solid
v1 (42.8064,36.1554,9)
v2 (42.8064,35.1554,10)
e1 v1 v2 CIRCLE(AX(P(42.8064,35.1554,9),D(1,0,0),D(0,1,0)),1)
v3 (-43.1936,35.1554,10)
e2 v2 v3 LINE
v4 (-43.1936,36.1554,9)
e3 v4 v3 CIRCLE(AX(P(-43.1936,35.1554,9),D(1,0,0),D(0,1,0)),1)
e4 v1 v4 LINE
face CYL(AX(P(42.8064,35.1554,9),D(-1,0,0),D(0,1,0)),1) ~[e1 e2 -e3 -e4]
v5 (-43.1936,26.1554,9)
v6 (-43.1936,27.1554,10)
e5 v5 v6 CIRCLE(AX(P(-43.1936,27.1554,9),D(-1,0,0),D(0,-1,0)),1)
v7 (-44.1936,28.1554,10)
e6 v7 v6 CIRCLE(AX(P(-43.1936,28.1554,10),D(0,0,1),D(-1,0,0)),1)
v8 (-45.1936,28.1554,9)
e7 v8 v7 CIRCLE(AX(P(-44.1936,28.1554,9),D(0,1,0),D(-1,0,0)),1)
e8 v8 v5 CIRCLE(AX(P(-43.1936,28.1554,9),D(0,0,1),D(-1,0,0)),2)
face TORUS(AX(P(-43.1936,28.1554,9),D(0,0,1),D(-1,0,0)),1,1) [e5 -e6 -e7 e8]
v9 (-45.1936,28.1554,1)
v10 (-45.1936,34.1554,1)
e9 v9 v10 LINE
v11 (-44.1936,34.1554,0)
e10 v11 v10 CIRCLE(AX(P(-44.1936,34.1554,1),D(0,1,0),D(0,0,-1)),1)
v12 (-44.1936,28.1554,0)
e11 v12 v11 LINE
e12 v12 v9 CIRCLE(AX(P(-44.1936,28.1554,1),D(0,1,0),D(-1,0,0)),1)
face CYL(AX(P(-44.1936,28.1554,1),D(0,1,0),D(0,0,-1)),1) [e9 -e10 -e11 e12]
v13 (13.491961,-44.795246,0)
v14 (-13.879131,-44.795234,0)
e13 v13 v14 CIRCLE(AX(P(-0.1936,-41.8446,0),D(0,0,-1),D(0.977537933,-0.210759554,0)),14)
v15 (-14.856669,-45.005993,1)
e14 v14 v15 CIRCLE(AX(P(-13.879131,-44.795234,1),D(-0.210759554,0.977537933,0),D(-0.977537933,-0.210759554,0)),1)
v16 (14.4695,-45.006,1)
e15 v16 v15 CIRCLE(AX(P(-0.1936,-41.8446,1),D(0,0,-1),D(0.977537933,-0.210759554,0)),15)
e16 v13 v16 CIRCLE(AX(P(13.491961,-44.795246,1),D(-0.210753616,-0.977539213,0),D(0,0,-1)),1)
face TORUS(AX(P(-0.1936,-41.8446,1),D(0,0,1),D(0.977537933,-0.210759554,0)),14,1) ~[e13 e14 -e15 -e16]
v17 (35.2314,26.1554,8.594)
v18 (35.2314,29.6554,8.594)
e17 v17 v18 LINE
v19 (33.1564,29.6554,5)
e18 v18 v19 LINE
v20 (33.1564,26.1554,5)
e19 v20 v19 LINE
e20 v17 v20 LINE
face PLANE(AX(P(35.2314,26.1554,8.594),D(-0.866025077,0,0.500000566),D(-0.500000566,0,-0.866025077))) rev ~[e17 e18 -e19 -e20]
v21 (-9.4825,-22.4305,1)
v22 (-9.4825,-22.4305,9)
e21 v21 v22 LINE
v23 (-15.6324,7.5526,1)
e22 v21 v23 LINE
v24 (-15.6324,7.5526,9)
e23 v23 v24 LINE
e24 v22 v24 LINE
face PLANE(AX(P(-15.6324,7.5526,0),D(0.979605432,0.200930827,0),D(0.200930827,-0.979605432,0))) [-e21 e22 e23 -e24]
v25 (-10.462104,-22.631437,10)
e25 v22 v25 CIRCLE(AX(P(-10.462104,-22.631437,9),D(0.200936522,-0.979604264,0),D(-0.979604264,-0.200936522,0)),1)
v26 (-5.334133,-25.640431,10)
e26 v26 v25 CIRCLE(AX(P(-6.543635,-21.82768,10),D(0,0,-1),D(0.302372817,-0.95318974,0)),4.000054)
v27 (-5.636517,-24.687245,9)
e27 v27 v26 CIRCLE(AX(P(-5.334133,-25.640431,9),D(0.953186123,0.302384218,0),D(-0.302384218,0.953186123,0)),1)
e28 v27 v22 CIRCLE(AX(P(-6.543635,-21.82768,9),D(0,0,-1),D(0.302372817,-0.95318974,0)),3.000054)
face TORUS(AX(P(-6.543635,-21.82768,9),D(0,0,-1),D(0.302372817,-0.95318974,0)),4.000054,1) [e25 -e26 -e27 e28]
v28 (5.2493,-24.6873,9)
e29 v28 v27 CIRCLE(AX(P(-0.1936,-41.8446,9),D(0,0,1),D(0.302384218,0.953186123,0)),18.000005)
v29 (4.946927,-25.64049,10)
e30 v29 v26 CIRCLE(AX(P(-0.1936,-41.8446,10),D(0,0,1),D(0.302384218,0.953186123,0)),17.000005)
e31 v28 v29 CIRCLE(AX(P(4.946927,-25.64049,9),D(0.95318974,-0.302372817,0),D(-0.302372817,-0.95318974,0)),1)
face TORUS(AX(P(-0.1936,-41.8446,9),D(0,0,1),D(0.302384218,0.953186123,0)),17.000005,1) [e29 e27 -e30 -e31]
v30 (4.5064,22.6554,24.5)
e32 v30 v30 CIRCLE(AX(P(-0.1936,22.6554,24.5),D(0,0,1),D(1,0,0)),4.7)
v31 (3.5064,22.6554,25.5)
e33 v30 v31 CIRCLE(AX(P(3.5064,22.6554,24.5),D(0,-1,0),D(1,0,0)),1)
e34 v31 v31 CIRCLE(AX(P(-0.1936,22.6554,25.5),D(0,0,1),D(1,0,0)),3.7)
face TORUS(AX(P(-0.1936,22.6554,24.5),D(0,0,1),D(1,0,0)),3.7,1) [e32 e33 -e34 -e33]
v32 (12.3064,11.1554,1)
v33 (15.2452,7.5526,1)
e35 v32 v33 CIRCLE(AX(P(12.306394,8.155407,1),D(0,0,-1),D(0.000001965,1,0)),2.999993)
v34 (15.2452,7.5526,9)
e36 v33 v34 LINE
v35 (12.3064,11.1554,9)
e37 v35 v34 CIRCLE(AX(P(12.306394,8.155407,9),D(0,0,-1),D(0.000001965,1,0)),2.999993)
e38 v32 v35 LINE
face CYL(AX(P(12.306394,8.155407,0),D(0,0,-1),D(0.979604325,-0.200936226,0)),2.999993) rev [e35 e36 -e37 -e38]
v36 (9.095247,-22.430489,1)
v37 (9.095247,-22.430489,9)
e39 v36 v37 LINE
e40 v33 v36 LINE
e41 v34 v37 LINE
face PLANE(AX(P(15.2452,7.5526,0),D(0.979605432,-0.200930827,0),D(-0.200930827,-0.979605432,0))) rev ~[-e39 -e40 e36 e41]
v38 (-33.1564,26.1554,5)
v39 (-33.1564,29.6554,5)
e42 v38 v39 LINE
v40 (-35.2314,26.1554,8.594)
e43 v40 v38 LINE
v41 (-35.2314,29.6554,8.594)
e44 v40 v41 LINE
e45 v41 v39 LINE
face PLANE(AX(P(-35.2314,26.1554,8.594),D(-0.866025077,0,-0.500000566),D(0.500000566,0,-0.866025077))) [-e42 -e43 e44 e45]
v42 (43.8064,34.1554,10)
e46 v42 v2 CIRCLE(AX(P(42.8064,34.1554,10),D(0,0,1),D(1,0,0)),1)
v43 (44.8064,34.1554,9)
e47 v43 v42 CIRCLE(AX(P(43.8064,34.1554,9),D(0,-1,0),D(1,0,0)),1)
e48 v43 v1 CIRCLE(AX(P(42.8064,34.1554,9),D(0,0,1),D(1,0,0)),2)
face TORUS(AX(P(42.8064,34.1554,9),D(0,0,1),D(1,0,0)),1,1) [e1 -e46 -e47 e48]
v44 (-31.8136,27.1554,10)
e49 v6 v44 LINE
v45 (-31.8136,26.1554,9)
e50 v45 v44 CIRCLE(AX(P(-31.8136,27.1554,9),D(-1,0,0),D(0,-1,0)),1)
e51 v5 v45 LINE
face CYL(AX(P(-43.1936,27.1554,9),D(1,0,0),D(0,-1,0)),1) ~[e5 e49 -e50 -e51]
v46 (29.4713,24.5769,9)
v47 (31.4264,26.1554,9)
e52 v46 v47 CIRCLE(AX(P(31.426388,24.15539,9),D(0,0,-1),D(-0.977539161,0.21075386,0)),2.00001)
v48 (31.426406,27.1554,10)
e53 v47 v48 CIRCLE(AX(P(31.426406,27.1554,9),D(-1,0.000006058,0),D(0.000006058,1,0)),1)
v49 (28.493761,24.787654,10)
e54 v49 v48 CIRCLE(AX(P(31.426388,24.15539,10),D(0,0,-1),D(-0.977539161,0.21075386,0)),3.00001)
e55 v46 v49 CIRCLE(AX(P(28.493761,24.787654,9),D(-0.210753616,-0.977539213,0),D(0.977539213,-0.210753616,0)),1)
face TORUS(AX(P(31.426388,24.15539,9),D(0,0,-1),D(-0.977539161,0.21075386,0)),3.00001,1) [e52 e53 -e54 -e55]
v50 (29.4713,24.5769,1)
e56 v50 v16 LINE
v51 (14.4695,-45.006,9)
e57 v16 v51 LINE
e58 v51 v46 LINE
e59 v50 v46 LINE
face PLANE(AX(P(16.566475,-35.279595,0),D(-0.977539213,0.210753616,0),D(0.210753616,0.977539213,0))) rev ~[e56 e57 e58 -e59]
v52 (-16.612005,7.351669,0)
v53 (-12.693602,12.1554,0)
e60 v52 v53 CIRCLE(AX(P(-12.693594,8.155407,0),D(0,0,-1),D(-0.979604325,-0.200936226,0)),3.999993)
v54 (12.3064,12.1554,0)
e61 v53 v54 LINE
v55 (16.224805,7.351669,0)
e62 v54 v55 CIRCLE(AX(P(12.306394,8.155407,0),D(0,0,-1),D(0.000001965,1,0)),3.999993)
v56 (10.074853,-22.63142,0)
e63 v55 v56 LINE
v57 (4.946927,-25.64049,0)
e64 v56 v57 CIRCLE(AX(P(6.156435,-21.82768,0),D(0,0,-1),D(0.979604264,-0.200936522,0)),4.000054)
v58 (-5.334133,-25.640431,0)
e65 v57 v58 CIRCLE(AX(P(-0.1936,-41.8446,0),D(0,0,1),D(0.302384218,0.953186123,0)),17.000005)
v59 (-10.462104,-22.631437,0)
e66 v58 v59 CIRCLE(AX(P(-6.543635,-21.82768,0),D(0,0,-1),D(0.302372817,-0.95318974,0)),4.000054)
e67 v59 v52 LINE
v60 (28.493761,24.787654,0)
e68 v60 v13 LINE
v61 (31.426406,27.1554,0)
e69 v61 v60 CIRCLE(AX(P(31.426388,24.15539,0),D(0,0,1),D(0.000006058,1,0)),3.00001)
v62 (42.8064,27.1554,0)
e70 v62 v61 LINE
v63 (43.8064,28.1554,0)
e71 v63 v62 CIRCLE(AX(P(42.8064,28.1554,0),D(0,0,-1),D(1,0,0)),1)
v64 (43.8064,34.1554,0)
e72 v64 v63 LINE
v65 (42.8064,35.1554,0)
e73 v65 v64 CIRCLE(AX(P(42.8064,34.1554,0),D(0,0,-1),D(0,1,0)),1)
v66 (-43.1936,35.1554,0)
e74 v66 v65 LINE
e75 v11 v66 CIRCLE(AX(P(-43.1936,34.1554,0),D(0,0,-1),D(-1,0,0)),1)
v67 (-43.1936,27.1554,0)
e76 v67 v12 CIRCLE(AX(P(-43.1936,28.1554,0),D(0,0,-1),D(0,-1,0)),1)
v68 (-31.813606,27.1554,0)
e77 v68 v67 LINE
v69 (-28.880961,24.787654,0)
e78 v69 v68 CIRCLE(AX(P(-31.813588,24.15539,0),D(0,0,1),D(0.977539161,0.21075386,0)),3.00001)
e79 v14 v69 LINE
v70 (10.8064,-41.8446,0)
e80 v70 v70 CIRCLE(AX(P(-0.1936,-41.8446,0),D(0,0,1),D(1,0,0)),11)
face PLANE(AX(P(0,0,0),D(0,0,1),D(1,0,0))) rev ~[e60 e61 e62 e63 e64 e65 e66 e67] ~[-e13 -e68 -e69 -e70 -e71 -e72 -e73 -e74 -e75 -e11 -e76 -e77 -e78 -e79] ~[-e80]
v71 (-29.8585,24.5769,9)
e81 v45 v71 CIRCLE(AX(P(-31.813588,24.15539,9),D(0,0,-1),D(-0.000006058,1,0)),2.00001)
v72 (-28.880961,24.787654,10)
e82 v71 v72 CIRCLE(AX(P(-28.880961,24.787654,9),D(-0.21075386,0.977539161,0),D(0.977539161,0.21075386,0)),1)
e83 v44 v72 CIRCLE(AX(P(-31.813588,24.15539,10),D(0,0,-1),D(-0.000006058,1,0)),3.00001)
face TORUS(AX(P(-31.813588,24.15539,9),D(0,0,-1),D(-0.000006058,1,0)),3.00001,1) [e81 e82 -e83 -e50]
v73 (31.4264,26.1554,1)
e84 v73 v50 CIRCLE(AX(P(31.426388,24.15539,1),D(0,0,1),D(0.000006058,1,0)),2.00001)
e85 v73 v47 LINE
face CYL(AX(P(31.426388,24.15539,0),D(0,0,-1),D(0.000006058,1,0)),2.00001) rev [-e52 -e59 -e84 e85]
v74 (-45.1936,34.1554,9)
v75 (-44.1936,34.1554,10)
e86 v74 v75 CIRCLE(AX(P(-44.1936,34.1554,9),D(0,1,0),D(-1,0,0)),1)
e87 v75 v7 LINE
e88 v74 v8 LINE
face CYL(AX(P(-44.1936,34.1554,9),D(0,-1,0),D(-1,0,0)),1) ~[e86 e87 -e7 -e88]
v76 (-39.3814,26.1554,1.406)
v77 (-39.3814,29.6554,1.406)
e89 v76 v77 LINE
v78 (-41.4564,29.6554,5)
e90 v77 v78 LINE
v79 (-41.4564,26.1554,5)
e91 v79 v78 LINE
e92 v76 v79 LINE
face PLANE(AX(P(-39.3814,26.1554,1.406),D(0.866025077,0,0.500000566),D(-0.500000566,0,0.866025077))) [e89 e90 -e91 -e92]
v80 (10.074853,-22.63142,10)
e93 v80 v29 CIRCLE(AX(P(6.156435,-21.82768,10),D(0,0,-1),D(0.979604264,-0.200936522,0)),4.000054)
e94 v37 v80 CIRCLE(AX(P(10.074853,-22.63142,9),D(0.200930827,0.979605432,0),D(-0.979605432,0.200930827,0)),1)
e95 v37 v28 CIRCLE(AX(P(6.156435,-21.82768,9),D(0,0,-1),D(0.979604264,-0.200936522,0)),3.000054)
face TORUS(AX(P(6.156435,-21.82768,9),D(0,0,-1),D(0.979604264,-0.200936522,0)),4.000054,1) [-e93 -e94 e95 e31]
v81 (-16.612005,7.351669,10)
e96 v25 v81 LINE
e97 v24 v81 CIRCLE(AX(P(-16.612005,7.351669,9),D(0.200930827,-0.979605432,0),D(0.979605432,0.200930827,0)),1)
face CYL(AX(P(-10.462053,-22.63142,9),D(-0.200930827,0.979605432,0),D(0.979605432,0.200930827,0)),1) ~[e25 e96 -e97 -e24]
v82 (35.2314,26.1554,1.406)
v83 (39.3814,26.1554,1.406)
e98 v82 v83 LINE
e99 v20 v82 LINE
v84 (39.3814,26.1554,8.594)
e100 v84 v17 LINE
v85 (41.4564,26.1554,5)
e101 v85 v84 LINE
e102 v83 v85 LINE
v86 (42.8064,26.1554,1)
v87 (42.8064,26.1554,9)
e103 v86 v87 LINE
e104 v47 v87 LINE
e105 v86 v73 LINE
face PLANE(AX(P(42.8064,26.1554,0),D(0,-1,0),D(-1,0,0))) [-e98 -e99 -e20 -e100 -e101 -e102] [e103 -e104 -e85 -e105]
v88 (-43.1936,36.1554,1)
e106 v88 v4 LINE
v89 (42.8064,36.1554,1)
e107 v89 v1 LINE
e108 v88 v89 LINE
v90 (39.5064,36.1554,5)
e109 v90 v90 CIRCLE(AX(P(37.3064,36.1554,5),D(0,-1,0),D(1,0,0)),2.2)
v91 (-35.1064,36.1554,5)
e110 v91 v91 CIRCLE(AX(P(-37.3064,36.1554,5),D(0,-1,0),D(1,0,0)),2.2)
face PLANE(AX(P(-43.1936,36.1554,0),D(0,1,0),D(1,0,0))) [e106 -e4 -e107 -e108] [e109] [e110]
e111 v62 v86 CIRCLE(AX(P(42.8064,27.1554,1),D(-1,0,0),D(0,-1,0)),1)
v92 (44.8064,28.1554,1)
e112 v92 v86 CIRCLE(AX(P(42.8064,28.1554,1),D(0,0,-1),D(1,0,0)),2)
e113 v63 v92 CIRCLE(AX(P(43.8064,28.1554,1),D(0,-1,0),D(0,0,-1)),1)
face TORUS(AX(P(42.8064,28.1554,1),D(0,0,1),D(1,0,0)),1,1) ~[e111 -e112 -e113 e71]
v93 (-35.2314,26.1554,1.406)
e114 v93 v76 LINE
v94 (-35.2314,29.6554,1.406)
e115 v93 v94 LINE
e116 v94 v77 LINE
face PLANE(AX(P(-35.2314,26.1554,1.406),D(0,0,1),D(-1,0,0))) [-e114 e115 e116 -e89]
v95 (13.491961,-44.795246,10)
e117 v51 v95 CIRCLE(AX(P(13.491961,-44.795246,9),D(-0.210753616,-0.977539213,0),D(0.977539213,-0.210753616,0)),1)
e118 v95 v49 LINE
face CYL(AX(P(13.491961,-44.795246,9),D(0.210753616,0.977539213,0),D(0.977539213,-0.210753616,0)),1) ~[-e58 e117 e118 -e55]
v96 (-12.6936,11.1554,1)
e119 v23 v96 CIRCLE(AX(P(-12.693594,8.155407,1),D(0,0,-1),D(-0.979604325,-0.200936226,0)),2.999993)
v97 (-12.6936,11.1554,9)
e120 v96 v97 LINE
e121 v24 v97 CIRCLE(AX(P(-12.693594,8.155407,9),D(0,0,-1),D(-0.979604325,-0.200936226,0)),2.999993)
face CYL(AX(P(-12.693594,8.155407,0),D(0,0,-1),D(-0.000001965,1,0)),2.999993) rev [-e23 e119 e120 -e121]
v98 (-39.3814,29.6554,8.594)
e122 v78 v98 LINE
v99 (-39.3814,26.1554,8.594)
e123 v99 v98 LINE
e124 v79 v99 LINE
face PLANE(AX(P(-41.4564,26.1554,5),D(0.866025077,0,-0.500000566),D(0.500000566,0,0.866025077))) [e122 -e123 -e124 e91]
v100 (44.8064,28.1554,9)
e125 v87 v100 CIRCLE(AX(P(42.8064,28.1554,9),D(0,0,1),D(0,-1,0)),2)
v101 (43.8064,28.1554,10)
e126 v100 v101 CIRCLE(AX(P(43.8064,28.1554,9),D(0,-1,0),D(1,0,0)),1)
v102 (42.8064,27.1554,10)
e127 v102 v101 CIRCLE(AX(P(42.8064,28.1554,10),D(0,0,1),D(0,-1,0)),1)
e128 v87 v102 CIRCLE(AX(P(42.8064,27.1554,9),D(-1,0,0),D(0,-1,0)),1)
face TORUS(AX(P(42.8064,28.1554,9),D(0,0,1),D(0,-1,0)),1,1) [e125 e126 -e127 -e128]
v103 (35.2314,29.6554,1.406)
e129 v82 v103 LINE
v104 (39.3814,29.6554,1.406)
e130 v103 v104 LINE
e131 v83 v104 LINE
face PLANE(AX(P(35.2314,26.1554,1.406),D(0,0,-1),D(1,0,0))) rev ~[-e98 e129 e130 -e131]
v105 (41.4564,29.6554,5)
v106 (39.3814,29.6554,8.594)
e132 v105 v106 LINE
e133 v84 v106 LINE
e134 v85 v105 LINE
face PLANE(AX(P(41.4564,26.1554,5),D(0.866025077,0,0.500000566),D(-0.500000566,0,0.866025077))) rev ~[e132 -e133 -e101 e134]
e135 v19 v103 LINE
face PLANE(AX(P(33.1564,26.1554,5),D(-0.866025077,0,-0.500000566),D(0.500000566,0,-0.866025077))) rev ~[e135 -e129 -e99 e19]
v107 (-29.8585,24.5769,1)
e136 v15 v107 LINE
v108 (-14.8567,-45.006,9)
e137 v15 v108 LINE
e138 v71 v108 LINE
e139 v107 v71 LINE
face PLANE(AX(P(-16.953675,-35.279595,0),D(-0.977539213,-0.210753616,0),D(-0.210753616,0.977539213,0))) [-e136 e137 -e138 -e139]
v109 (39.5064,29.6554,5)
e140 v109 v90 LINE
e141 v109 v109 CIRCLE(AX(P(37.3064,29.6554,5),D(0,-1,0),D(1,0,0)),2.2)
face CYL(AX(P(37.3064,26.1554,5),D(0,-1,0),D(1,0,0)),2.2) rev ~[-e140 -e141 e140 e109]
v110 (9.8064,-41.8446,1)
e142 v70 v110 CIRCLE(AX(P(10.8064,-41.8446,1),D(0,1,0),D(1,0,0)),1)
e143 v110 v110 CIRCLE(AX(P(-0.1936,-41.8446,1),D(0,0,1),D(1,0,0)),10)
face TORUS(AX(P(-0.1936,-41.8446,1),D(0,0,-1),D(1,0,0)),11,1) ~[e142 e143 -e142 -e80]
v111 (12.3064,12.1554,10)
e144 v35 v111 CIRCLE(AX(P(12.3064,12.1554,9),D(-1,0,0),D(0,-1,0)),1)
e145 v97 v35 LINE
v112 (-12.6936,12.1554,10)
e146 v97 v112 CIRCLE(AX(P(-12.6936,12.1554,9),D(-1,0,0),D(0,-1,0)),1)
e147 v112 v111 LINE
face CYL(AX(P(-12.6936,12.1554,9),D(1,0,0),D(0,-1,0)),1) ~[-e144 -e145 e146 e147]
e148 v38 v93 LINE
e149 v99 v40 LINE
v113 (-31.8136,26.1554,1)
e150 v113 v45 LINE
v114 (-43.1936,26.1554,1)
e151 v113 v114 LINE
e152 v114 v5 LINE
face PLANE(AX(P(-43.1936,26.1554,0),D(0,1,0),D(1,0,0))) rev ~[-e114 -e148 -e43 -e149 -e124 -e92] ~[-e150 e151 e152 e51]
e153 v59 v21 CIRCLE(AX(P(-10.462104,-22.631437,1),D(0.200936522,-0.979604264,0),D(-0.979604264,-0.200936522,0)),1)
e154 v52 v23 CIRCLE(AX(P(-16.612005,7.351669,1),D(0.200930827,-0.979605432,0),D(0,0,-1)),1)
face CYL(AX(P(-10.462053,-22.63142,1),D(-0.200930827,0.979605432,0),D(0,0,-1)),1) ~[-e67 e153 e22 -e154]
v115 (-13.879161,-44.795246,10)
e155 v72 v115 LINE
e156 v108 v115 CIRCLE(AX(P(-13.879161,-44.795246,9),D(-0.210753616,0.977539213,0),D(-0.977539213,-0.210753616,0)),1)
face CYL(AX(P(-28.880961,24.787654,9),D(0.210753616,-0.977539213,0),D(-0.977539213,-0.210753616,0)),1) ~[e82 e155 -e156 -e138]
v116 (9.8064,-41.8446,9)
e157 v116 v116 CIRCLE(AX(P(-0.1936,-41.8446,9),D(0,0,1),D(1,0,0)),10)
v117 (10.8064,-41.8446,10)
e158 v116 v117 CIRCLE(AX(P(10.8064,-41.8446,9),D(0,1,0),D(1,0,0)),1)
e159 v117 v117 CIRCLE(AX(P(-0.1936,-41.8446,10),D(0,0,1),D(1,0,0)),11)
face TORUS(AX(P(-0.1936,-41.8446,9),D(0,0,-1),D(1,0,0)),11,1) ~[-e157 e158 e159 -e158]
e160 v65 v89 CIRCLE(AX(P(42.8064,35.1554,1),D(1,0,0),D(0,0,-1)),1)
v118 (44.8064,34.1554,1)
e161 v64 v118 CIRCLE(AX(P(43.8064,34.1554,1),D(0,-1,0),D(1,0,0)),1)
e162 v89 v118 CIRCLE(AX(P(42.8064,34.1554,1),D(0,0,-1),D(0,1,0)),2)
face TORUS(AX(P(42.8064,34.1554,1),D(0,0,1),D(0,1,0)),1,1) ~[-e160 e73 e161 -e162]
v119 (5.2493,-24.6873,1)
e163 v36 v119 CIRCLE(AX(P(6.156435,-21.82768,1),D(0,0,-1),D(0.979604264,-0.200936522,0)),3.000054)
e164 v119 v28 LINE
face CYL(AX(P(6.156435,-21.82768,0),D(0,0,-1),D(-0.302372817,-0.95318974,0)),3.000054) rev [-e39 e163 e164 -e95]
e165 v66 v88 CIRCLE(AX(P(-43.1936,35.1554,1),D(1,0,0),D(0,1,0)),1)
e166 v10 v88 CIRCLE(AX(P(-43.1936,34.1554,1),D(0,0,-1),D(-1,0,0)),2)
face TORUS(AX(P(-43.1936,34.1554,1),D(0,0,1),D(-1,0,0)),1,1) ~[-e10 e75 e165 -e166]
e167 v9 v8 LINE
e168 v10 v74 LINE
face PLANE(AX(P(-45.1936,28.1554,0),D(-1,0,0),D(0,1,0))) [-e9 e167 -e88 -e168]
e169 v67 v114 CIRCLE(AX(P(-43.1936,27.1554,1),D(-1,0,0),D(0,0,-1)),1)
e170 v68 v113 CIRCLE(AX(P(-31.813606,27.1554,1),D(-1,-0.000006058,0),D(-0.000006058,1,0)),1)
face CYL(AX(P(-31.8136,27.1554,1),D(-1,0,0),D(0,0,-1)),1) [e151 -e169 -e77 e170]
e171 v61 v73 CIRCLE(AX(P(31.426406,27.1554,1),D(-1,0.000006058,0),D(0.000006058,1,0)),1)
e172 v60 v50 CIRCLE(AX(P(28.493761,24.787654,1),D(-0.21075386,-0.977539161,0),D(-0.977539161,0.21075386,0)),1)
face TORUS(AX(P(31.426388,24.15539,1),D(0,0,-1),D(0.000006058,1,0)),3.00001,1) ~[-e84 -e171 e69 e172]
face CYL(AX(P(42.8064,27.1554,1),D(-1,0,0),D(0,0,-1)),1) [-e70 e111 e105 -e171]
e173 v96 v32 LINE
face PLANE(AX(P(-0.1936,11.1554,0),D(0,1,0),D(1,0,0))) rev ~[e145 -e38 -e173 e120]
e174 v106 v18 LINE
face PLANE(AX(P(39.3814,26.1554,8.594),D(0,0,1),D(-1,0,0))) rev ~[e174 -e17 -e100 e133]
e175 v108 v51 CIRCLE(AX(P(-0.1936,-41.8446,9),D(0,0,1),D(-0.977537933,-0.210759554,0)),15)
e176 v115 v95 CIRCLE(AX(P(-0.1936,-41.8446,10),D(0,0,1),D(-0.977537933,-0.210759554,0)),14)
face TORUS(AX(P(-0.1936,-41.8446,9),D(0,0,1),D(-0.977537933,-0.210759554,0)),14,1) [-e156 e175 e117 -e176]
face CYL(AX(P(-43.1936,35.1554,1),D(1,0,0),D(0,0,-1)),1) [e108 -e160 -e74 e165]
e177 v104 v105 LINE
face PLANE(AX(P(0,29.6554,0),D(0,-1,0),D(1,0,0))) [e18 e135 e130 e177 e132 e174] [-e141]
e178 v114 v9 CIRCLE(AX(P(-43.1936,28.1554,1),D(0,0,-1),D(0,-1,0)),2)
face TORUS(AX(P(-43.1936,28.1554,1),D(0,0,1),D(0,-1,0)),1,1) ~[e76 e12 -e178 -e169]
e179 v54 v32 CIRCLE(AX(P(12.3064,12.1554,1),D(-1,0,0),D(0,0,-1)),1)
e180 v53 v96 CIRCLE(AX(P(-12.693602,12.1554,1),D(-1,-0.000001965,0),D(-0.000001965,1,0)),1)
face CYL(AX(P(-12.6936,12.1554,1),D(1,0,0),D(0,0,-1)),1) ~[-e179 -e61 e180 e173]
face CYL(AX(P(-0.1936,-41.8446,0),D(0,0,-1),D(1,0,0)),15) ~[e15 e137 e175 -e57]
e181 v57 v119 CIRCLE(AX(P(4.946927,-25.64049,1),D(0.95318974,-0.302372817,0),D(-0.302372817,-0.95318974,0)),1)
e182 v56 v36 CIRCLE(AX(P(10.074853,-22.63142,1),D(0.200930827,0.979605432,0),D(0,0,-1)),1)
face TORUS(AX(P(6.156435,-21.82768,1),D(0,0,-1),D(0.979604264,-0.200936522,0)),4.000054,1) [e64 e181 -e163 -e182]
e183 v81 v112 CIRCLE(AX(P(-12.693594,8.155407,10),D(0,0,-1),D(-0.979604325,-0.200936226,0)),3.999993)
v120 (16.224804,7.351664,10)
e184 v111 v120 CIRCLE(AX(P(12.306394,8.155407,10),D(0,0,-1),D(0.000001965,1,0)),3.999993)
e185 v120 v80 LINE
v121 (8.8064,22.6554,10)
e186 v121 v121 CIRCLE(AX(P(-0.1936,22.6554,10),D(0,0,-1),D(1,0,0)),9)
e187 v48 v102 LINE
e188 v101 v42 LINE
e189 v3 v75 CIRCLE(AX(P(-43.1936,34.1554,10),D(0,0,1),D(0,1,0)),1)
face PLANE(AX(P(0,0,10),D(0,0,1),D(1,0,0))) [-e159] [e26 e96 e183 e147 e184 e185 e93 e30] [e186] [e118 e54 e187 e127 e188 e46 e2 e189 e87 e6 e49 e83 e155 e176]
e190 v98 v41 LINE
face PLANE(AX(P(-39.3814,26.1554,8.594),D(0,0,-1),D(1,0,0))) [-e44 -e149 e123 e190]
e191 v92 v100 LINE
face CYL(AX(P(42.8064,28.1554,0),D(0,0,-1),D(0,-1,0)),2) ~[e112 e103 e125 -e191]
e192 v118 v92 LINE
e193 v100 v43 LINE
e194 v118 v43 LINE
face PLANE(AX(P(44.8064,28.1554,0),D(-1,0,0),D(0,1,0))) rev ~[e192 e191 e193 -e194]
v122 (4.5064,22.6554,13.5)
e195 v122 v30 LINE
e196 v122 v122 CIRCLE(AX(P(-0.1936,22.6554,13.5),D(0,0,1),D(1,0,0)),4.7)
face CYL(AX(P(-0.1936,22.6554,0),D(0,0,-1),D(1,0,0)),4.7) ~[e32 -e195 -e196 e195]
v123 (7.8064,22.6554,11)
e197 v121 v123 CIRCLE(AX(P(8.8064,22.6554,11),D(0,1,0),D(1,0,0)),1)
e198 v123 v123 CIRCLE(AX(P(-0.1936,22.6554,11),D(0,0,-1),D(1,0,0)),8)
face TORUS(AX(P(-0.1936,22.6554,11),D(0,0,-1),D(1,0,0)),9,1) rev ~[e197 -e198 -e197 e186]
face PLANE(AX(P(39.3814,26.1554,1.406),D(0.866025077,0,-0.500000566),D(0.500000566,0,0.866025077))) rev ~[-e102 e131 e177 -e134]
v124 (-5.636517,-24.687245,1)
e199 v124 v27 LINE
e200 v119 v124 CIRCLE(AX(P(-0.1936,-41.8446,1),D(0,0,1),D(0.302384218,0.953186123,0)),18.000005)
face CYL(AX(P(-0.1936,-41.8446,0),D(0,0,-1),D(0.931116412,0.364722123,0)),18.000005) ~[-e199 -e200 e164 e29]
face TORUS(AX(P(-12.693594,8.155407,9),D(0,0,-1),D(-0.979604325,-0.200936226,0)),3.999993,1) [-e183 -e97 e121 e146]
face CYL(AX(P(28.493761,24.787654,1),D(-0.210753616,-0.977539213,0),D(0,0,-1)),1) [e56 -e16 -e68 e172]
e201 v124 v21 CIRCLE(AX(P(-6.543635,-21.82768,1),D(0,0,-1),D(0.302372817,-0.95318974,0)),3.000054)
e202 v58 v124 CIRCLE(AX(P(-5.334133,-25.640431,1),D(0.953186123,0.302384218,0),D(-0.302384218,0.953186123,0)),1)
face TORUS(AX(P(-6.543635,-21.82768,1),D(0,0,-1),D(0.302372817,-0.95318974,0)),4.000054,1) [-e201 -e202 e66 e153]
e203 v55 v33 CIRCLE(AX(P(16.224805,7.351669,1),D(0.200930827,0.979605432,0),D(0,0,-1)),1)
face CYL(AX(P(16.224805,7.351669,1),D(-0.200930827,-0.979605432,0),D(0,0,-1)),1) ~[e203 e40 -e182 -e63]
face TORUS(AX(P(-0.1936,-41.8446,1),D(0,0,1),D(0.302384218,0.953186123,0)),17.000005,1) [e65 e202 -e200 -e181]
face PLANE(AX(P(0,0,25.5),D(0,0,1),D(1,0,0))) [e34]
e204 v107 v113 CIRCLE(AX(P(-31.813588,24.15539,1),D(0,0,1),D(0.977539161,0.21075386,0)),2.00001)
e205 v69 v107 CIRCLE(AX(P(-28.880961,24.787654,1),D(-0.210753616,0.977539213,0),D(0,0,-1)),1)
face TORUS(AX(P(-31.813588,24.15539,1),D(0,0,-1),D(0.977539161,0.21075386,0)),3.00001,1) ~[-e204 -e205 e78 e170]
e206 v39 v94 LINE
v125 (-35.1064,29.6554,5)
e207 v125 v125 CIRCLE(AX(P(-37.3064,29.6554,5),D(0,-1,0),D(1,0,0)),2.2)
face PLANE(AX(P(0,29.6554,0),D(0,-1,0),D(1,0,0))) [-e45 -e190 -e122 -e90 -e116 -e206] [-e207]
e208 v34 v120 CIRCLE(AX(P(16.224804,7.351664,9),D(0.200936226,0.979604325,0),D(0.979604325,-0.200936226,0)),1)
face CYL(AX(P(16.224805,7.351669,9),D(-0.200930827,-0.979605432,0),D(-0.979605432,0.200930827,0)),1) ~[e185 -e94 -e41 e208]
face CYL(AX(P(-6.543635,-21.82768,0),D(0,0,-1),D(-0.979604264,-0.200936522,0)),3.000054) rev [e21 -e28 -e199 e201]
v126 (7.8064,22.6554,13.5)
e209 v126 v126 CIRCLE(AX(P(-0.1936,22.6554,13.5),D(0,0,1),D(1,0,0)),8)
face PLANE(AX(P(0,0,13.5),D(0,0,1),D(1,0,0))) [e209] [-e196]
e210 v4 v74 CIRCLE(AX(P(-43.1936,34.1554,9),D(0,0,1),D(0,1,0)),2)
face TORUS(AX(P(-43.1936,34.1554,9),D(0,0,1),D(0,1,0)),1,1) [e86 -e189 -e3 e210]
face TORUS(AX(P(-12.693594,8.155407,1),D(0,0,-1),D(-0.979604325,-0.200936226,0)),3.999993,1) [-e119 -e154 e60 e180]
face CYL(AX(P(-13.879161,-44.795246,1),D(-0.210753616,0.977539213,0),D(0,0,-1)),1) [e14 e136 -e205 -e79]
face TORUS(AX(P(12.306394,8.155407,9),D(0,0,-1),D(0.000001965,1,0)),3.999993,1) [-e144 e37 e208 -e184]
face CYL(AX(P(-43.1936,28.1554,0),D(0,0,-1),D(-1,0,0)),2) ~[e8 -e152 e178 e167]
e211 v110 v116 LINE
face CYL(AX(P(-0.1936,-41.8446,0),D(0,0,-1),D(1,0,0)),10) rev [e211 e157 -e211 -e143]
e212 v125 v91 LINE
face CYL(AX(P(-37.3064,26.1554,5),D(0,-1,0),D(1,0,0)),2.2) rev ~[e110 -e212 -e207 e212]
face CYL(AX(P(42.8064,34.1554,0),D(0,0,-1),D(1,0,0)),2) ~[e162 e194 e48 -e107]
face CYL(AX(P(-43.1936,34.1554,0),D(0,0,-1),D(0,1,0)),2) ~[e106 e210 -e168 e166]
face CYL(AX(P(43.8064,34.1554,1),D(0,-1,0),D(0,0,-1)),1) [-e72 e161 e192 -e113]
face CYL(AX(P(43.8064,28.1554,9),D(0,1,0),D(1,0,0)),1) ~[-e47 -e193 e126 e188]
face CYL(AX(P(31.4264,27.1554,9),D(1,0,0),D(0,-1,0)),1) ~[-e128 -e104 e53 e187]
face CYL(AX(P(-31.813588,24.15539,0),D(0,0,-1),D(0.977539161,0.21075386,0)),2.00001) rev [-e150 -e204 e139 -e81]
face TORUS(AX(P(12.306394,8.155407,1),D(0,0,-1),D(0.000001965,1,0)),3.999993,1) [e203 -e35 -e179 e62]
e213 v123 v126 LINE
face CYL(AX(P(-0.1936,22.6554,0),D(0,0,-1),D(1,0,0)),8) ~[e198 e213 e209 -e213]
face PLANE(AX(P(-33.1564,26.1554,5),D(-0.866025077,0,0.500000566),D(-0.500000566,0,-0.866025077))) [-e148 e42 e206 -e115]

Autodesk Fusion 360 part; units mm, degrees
sketch "base" plane through (0, 0, 0) normal (0, 0, 1) x (1, 0, 0)
  line L0 (-43.1936, 36.1554) -> (-0.1936, 36.1554)
  line L1 (-45.1936, 28.1554) -> (-45.1936, 34.1554)
  arc A0 (-43.1936, 36.1554) -> (-45.1936, 34.1554) centre (-43.1936, 34.1554) ccw
  arc A1 (-45.1936, 28.1554) -> (-43.1936, 26.1554) centre (-43.1936, 28.1554) ccw
  line L2 (-43.1936, 26.1554) -> (-31.8136, 26.1554)
  line L3 (-0.1936, 36.1554) -> (-0.1936, -56.8446) construction
  circle A2 centre (-0.1936, -41.8446) radius 15
  arc A3 (-29.8585, 24.5769) -> (-31.8136, 26.1554) centre (-31.8136, 24.1554) ccw
  arc A4 (16.5665, -35.2796) -> (-16.9537, -35.2796) centre (-0.1936, -41.8446) ccw
  line L4 (-14.8567, -45.006) -> (-29.8585, 24.5769)
  line L5 (-0.1936, 36.1554) -> (-0.1936, 11.1554) construction
  line L6 (-0.1936, 11.1554) -> (-12.6936, 11.1554)
  line L7 (-15.6324, 7.5526) -> (-9.3579, -23.0377)
  arc A5 (-12.6936, 11.1554) -> (-15.6324, 7.5526) centre (-12.6936, 8.1554) ccw
  arc A6 (-9.4825, -22.4305) -> (-5.6365, -24.6873) centre (-6.5436, -21.8277) ccw
  line L8 (-31.8136, 26.1554) -> (-43.1936, 26.1554)
  arc A7 (44.8064, 34.1554) -> (42.8064, 36.1554) centre (42.8064, 34.1554) ccw
  line L9 (44.8064, 28.1554) -> (44.8064, 34.1554)
  line L10 (15.2452, 7.5526) -> (8.9707, -23.0377)
  line L11 (42.8064, 26.1554) -> (31.4264, 26.1554)
  arc A8 (15.2452, 7.5526) -> (12.3064, 11.1554) centre (12.3064, 8.1554) ccw
  arc A9 (31.4264, 26.1554) -> (29.4713, 24.5769) centre (31.4264, 24.1554) ccw
  line L12 (31.4264, 26.1554) -> (42.8064, 26.1554)
  line L13 (-0.1936, 11.1554) -> (12.3064, 11.1554)
  line L14 (42.8064, 36.1554) -> (-0.1936, 36.1554)
  arc A10 (42.8064, 26.1554) -> (44.8064, 28.1554) centre (42.8064, 28.1554) ccw
  line L15 (14.4695, -45.006) -> (29.4713, 24.5769)
  arc A11 (5.2493, -24.6873) -> (9.0953, -22.4305) centre (6.1564, -21.8277) ccw
  circle A12 centre (-0.1936, -41.8446) radius 10
  line L16 (-0.1936, 36.1554) -> (-0.1936, 22.6554) construction
  circle A13 centre (-0.1936, 22.6554) radius 8
  circle A14 centre (-0.1936, 22.6554) radius 4.7
  point P0 (-45.1936, 36.1554)
  point P1 (44.8064, 36.1554)
  point P2 (-45.1936, 26.1554)
  point P3 (44.8064, 26.1554)
  point P4 (44.8064, 36.1554)
  dimension "d1" = 90
  dimension "d2" = 10
  dimension "d3" = 2
  dimension "d4" = 11.38
  dimension "d5" = 93
  dimension "d6" = 4
  dimension "d7" = 30
  dimension "d8" = 36
  dimension "d9" = 25
  dimension "d10" = 12.5
  dimension "d11" = 6
  dimension "d12" = 6
  dimension "d13" = 20
  dimension "d16" = 13.5
  dimension "d17" = 16
  dimension "d18" = 9.4
extrude "Extrude1" add sketch "base" along normal blind 10 contours L0 L1 A0 A1 L2 A3 A4 L4 L6 L7 A5 A6 L8 A7 L9 L10 L11 A8 A9 L12 L13 L14 A10 L15 A11 | A2 A4 L4 L15 | A2 | A13 | A14
extrude "Extrude2" add sketch "base" along normal blind 13.5 contours A13
extrude "Extrude3" add sketch "base" along normal blind 25.5 contours A14
fillet "Fillet1" radius 1 24 edges at (-0.1936, 11.1554, 10) (14.6311, 10.0516, 10) (12.1702, -7.439, 10) (7.6747, -24.4152, 10) (-0.1936, -23.8446, 10) (-8.0619, -24.4152, 10) (-12.5574, -7.439, 10) (-15.0183, 10.0516, 10) (21.9704, -10.2145, 10) (30.17, 25.7115, 10) (37.1164, 26.1554, 10) (44.2206, 26.7411, 10) (44.8064, 31.1554, 10) (44.2206, 35.5696, 10) (-0.1936, 36.1554, 10) (-44.6078, 35.5696, 10) (-45.1936, 31.1554, 10) (-44.6078, 26.7411, 10) (-37.5036, 26.1554, 10) (-30.5572, 25.7115, 10) (-22.3576, -10.2145, 10) (-0.1936, -56.8446, 10) (-9.5169, -38.2285, 10) (-4.5755, 20.9558, 25.5)
fillet "Fillet1" radius 1 23 edges at (30.17, 25.7115, 0) (37.1164, 26.1554, 0) (44.2206, 26.7411, 0) (44.8064, 31.1554, 0) (44.2206, 35.5696, 0) (-0.1936, 36.1554, 0) (-44.6078, 35.5696, 0) (-45.1936, 31.1554, 0) (-44.6078, 26.7411, 0) (-37.5036, 26.1554, 0) (-30.5572, 25.7115, 0) (-22.3576, -10.2145, 0) (-0.1936, -56.8446, 0) (21.9704, -10.2145, 0) (12.1702, -7.439, 0) (7.6747, -24.4152, 0) (-0.1936, -23.8446, 0) (-8.0619, -24.4152, 0) (-12.5574, -7.439, 0) (-15.0183, 10.0516, 0) (-0.1936, 11.1554, 0) (14.6311, 10.0516, 0) (-9.5169, -38.2285, 0)
fillet "Fillet2" radius 1 1 edges at (-7.6522, 25.5483, 10)
sketch "holes" plane through (0, 26.1554, 0) normal (0, -1, 0) x (1, 0, 0)
  line L0 (31.4264, 1) -> (42.8064, 1)
  line L1 (42.8064, 1) -> (42.8064, 9)
  line L2 (42.8064, 9) -> (31.4264, 9)
  line L3 (31.4264, 9) -> (31.4264, 1)
  line L4 (42.8064, 5) -> (37.3064, 5) construction
  circle A0 centre (37.3064, 5) radius 2.2
  line L5 (41.4564, 5) -> (39.3814, 8.594)
  line L6 (39.3814, 8.594) -> (35.2314, 8.594)
  line L7 (35.2314, 8.594) -> (33.1564, 5)
  line L8 (33.1564, 5) -> (35.2314, 1.406)
  line L9 (35.2314, 1.406) -> (39.3814, 1.406)
  line L10 (39.3814, 1.406) -> (41.4564, 5)
  line L11 (0, 20) -> (0, 2.5) construction
  line L12 (-41.4564, 5) -> (-39.3814, 8.594)
  line L13 (-39.3814, 8.594) -> (-35.2314, 8.594)
  line L14 (-35.2314, 8.594) -> (-33.1564, 5)
  line L15 (-33.1564, 5) -> (-35.2314, 1.406)
  line L16 (-35.2314, 1.406) -> (-39.3814, 1.406)
  circle A1 centre (-37.3064, 5) radius 2.2
  line L17 (-39.3814, 1.406) -> (-41.4564, 5)
  point P0 (37.3064, 5)
  dimension "d26" = 5.5
  dimension "d27" = 4.4
  dimension "d28" = 4.15
extrude "Extrude4" cut sketch "holes" against normal blind 21 contours A0
extrude "Extrude5" cut sketch "holes" against normal blind 3.5 contours L5 L6 L7 L8 L9 L10
extrude "Extrude6" cut sketch "holes" against normal blind 14 contours A1
extrude "Extrude7" cut sketch "holes" against normal blind 3.5 contours L12 L13 L14 L15 L16 L17
